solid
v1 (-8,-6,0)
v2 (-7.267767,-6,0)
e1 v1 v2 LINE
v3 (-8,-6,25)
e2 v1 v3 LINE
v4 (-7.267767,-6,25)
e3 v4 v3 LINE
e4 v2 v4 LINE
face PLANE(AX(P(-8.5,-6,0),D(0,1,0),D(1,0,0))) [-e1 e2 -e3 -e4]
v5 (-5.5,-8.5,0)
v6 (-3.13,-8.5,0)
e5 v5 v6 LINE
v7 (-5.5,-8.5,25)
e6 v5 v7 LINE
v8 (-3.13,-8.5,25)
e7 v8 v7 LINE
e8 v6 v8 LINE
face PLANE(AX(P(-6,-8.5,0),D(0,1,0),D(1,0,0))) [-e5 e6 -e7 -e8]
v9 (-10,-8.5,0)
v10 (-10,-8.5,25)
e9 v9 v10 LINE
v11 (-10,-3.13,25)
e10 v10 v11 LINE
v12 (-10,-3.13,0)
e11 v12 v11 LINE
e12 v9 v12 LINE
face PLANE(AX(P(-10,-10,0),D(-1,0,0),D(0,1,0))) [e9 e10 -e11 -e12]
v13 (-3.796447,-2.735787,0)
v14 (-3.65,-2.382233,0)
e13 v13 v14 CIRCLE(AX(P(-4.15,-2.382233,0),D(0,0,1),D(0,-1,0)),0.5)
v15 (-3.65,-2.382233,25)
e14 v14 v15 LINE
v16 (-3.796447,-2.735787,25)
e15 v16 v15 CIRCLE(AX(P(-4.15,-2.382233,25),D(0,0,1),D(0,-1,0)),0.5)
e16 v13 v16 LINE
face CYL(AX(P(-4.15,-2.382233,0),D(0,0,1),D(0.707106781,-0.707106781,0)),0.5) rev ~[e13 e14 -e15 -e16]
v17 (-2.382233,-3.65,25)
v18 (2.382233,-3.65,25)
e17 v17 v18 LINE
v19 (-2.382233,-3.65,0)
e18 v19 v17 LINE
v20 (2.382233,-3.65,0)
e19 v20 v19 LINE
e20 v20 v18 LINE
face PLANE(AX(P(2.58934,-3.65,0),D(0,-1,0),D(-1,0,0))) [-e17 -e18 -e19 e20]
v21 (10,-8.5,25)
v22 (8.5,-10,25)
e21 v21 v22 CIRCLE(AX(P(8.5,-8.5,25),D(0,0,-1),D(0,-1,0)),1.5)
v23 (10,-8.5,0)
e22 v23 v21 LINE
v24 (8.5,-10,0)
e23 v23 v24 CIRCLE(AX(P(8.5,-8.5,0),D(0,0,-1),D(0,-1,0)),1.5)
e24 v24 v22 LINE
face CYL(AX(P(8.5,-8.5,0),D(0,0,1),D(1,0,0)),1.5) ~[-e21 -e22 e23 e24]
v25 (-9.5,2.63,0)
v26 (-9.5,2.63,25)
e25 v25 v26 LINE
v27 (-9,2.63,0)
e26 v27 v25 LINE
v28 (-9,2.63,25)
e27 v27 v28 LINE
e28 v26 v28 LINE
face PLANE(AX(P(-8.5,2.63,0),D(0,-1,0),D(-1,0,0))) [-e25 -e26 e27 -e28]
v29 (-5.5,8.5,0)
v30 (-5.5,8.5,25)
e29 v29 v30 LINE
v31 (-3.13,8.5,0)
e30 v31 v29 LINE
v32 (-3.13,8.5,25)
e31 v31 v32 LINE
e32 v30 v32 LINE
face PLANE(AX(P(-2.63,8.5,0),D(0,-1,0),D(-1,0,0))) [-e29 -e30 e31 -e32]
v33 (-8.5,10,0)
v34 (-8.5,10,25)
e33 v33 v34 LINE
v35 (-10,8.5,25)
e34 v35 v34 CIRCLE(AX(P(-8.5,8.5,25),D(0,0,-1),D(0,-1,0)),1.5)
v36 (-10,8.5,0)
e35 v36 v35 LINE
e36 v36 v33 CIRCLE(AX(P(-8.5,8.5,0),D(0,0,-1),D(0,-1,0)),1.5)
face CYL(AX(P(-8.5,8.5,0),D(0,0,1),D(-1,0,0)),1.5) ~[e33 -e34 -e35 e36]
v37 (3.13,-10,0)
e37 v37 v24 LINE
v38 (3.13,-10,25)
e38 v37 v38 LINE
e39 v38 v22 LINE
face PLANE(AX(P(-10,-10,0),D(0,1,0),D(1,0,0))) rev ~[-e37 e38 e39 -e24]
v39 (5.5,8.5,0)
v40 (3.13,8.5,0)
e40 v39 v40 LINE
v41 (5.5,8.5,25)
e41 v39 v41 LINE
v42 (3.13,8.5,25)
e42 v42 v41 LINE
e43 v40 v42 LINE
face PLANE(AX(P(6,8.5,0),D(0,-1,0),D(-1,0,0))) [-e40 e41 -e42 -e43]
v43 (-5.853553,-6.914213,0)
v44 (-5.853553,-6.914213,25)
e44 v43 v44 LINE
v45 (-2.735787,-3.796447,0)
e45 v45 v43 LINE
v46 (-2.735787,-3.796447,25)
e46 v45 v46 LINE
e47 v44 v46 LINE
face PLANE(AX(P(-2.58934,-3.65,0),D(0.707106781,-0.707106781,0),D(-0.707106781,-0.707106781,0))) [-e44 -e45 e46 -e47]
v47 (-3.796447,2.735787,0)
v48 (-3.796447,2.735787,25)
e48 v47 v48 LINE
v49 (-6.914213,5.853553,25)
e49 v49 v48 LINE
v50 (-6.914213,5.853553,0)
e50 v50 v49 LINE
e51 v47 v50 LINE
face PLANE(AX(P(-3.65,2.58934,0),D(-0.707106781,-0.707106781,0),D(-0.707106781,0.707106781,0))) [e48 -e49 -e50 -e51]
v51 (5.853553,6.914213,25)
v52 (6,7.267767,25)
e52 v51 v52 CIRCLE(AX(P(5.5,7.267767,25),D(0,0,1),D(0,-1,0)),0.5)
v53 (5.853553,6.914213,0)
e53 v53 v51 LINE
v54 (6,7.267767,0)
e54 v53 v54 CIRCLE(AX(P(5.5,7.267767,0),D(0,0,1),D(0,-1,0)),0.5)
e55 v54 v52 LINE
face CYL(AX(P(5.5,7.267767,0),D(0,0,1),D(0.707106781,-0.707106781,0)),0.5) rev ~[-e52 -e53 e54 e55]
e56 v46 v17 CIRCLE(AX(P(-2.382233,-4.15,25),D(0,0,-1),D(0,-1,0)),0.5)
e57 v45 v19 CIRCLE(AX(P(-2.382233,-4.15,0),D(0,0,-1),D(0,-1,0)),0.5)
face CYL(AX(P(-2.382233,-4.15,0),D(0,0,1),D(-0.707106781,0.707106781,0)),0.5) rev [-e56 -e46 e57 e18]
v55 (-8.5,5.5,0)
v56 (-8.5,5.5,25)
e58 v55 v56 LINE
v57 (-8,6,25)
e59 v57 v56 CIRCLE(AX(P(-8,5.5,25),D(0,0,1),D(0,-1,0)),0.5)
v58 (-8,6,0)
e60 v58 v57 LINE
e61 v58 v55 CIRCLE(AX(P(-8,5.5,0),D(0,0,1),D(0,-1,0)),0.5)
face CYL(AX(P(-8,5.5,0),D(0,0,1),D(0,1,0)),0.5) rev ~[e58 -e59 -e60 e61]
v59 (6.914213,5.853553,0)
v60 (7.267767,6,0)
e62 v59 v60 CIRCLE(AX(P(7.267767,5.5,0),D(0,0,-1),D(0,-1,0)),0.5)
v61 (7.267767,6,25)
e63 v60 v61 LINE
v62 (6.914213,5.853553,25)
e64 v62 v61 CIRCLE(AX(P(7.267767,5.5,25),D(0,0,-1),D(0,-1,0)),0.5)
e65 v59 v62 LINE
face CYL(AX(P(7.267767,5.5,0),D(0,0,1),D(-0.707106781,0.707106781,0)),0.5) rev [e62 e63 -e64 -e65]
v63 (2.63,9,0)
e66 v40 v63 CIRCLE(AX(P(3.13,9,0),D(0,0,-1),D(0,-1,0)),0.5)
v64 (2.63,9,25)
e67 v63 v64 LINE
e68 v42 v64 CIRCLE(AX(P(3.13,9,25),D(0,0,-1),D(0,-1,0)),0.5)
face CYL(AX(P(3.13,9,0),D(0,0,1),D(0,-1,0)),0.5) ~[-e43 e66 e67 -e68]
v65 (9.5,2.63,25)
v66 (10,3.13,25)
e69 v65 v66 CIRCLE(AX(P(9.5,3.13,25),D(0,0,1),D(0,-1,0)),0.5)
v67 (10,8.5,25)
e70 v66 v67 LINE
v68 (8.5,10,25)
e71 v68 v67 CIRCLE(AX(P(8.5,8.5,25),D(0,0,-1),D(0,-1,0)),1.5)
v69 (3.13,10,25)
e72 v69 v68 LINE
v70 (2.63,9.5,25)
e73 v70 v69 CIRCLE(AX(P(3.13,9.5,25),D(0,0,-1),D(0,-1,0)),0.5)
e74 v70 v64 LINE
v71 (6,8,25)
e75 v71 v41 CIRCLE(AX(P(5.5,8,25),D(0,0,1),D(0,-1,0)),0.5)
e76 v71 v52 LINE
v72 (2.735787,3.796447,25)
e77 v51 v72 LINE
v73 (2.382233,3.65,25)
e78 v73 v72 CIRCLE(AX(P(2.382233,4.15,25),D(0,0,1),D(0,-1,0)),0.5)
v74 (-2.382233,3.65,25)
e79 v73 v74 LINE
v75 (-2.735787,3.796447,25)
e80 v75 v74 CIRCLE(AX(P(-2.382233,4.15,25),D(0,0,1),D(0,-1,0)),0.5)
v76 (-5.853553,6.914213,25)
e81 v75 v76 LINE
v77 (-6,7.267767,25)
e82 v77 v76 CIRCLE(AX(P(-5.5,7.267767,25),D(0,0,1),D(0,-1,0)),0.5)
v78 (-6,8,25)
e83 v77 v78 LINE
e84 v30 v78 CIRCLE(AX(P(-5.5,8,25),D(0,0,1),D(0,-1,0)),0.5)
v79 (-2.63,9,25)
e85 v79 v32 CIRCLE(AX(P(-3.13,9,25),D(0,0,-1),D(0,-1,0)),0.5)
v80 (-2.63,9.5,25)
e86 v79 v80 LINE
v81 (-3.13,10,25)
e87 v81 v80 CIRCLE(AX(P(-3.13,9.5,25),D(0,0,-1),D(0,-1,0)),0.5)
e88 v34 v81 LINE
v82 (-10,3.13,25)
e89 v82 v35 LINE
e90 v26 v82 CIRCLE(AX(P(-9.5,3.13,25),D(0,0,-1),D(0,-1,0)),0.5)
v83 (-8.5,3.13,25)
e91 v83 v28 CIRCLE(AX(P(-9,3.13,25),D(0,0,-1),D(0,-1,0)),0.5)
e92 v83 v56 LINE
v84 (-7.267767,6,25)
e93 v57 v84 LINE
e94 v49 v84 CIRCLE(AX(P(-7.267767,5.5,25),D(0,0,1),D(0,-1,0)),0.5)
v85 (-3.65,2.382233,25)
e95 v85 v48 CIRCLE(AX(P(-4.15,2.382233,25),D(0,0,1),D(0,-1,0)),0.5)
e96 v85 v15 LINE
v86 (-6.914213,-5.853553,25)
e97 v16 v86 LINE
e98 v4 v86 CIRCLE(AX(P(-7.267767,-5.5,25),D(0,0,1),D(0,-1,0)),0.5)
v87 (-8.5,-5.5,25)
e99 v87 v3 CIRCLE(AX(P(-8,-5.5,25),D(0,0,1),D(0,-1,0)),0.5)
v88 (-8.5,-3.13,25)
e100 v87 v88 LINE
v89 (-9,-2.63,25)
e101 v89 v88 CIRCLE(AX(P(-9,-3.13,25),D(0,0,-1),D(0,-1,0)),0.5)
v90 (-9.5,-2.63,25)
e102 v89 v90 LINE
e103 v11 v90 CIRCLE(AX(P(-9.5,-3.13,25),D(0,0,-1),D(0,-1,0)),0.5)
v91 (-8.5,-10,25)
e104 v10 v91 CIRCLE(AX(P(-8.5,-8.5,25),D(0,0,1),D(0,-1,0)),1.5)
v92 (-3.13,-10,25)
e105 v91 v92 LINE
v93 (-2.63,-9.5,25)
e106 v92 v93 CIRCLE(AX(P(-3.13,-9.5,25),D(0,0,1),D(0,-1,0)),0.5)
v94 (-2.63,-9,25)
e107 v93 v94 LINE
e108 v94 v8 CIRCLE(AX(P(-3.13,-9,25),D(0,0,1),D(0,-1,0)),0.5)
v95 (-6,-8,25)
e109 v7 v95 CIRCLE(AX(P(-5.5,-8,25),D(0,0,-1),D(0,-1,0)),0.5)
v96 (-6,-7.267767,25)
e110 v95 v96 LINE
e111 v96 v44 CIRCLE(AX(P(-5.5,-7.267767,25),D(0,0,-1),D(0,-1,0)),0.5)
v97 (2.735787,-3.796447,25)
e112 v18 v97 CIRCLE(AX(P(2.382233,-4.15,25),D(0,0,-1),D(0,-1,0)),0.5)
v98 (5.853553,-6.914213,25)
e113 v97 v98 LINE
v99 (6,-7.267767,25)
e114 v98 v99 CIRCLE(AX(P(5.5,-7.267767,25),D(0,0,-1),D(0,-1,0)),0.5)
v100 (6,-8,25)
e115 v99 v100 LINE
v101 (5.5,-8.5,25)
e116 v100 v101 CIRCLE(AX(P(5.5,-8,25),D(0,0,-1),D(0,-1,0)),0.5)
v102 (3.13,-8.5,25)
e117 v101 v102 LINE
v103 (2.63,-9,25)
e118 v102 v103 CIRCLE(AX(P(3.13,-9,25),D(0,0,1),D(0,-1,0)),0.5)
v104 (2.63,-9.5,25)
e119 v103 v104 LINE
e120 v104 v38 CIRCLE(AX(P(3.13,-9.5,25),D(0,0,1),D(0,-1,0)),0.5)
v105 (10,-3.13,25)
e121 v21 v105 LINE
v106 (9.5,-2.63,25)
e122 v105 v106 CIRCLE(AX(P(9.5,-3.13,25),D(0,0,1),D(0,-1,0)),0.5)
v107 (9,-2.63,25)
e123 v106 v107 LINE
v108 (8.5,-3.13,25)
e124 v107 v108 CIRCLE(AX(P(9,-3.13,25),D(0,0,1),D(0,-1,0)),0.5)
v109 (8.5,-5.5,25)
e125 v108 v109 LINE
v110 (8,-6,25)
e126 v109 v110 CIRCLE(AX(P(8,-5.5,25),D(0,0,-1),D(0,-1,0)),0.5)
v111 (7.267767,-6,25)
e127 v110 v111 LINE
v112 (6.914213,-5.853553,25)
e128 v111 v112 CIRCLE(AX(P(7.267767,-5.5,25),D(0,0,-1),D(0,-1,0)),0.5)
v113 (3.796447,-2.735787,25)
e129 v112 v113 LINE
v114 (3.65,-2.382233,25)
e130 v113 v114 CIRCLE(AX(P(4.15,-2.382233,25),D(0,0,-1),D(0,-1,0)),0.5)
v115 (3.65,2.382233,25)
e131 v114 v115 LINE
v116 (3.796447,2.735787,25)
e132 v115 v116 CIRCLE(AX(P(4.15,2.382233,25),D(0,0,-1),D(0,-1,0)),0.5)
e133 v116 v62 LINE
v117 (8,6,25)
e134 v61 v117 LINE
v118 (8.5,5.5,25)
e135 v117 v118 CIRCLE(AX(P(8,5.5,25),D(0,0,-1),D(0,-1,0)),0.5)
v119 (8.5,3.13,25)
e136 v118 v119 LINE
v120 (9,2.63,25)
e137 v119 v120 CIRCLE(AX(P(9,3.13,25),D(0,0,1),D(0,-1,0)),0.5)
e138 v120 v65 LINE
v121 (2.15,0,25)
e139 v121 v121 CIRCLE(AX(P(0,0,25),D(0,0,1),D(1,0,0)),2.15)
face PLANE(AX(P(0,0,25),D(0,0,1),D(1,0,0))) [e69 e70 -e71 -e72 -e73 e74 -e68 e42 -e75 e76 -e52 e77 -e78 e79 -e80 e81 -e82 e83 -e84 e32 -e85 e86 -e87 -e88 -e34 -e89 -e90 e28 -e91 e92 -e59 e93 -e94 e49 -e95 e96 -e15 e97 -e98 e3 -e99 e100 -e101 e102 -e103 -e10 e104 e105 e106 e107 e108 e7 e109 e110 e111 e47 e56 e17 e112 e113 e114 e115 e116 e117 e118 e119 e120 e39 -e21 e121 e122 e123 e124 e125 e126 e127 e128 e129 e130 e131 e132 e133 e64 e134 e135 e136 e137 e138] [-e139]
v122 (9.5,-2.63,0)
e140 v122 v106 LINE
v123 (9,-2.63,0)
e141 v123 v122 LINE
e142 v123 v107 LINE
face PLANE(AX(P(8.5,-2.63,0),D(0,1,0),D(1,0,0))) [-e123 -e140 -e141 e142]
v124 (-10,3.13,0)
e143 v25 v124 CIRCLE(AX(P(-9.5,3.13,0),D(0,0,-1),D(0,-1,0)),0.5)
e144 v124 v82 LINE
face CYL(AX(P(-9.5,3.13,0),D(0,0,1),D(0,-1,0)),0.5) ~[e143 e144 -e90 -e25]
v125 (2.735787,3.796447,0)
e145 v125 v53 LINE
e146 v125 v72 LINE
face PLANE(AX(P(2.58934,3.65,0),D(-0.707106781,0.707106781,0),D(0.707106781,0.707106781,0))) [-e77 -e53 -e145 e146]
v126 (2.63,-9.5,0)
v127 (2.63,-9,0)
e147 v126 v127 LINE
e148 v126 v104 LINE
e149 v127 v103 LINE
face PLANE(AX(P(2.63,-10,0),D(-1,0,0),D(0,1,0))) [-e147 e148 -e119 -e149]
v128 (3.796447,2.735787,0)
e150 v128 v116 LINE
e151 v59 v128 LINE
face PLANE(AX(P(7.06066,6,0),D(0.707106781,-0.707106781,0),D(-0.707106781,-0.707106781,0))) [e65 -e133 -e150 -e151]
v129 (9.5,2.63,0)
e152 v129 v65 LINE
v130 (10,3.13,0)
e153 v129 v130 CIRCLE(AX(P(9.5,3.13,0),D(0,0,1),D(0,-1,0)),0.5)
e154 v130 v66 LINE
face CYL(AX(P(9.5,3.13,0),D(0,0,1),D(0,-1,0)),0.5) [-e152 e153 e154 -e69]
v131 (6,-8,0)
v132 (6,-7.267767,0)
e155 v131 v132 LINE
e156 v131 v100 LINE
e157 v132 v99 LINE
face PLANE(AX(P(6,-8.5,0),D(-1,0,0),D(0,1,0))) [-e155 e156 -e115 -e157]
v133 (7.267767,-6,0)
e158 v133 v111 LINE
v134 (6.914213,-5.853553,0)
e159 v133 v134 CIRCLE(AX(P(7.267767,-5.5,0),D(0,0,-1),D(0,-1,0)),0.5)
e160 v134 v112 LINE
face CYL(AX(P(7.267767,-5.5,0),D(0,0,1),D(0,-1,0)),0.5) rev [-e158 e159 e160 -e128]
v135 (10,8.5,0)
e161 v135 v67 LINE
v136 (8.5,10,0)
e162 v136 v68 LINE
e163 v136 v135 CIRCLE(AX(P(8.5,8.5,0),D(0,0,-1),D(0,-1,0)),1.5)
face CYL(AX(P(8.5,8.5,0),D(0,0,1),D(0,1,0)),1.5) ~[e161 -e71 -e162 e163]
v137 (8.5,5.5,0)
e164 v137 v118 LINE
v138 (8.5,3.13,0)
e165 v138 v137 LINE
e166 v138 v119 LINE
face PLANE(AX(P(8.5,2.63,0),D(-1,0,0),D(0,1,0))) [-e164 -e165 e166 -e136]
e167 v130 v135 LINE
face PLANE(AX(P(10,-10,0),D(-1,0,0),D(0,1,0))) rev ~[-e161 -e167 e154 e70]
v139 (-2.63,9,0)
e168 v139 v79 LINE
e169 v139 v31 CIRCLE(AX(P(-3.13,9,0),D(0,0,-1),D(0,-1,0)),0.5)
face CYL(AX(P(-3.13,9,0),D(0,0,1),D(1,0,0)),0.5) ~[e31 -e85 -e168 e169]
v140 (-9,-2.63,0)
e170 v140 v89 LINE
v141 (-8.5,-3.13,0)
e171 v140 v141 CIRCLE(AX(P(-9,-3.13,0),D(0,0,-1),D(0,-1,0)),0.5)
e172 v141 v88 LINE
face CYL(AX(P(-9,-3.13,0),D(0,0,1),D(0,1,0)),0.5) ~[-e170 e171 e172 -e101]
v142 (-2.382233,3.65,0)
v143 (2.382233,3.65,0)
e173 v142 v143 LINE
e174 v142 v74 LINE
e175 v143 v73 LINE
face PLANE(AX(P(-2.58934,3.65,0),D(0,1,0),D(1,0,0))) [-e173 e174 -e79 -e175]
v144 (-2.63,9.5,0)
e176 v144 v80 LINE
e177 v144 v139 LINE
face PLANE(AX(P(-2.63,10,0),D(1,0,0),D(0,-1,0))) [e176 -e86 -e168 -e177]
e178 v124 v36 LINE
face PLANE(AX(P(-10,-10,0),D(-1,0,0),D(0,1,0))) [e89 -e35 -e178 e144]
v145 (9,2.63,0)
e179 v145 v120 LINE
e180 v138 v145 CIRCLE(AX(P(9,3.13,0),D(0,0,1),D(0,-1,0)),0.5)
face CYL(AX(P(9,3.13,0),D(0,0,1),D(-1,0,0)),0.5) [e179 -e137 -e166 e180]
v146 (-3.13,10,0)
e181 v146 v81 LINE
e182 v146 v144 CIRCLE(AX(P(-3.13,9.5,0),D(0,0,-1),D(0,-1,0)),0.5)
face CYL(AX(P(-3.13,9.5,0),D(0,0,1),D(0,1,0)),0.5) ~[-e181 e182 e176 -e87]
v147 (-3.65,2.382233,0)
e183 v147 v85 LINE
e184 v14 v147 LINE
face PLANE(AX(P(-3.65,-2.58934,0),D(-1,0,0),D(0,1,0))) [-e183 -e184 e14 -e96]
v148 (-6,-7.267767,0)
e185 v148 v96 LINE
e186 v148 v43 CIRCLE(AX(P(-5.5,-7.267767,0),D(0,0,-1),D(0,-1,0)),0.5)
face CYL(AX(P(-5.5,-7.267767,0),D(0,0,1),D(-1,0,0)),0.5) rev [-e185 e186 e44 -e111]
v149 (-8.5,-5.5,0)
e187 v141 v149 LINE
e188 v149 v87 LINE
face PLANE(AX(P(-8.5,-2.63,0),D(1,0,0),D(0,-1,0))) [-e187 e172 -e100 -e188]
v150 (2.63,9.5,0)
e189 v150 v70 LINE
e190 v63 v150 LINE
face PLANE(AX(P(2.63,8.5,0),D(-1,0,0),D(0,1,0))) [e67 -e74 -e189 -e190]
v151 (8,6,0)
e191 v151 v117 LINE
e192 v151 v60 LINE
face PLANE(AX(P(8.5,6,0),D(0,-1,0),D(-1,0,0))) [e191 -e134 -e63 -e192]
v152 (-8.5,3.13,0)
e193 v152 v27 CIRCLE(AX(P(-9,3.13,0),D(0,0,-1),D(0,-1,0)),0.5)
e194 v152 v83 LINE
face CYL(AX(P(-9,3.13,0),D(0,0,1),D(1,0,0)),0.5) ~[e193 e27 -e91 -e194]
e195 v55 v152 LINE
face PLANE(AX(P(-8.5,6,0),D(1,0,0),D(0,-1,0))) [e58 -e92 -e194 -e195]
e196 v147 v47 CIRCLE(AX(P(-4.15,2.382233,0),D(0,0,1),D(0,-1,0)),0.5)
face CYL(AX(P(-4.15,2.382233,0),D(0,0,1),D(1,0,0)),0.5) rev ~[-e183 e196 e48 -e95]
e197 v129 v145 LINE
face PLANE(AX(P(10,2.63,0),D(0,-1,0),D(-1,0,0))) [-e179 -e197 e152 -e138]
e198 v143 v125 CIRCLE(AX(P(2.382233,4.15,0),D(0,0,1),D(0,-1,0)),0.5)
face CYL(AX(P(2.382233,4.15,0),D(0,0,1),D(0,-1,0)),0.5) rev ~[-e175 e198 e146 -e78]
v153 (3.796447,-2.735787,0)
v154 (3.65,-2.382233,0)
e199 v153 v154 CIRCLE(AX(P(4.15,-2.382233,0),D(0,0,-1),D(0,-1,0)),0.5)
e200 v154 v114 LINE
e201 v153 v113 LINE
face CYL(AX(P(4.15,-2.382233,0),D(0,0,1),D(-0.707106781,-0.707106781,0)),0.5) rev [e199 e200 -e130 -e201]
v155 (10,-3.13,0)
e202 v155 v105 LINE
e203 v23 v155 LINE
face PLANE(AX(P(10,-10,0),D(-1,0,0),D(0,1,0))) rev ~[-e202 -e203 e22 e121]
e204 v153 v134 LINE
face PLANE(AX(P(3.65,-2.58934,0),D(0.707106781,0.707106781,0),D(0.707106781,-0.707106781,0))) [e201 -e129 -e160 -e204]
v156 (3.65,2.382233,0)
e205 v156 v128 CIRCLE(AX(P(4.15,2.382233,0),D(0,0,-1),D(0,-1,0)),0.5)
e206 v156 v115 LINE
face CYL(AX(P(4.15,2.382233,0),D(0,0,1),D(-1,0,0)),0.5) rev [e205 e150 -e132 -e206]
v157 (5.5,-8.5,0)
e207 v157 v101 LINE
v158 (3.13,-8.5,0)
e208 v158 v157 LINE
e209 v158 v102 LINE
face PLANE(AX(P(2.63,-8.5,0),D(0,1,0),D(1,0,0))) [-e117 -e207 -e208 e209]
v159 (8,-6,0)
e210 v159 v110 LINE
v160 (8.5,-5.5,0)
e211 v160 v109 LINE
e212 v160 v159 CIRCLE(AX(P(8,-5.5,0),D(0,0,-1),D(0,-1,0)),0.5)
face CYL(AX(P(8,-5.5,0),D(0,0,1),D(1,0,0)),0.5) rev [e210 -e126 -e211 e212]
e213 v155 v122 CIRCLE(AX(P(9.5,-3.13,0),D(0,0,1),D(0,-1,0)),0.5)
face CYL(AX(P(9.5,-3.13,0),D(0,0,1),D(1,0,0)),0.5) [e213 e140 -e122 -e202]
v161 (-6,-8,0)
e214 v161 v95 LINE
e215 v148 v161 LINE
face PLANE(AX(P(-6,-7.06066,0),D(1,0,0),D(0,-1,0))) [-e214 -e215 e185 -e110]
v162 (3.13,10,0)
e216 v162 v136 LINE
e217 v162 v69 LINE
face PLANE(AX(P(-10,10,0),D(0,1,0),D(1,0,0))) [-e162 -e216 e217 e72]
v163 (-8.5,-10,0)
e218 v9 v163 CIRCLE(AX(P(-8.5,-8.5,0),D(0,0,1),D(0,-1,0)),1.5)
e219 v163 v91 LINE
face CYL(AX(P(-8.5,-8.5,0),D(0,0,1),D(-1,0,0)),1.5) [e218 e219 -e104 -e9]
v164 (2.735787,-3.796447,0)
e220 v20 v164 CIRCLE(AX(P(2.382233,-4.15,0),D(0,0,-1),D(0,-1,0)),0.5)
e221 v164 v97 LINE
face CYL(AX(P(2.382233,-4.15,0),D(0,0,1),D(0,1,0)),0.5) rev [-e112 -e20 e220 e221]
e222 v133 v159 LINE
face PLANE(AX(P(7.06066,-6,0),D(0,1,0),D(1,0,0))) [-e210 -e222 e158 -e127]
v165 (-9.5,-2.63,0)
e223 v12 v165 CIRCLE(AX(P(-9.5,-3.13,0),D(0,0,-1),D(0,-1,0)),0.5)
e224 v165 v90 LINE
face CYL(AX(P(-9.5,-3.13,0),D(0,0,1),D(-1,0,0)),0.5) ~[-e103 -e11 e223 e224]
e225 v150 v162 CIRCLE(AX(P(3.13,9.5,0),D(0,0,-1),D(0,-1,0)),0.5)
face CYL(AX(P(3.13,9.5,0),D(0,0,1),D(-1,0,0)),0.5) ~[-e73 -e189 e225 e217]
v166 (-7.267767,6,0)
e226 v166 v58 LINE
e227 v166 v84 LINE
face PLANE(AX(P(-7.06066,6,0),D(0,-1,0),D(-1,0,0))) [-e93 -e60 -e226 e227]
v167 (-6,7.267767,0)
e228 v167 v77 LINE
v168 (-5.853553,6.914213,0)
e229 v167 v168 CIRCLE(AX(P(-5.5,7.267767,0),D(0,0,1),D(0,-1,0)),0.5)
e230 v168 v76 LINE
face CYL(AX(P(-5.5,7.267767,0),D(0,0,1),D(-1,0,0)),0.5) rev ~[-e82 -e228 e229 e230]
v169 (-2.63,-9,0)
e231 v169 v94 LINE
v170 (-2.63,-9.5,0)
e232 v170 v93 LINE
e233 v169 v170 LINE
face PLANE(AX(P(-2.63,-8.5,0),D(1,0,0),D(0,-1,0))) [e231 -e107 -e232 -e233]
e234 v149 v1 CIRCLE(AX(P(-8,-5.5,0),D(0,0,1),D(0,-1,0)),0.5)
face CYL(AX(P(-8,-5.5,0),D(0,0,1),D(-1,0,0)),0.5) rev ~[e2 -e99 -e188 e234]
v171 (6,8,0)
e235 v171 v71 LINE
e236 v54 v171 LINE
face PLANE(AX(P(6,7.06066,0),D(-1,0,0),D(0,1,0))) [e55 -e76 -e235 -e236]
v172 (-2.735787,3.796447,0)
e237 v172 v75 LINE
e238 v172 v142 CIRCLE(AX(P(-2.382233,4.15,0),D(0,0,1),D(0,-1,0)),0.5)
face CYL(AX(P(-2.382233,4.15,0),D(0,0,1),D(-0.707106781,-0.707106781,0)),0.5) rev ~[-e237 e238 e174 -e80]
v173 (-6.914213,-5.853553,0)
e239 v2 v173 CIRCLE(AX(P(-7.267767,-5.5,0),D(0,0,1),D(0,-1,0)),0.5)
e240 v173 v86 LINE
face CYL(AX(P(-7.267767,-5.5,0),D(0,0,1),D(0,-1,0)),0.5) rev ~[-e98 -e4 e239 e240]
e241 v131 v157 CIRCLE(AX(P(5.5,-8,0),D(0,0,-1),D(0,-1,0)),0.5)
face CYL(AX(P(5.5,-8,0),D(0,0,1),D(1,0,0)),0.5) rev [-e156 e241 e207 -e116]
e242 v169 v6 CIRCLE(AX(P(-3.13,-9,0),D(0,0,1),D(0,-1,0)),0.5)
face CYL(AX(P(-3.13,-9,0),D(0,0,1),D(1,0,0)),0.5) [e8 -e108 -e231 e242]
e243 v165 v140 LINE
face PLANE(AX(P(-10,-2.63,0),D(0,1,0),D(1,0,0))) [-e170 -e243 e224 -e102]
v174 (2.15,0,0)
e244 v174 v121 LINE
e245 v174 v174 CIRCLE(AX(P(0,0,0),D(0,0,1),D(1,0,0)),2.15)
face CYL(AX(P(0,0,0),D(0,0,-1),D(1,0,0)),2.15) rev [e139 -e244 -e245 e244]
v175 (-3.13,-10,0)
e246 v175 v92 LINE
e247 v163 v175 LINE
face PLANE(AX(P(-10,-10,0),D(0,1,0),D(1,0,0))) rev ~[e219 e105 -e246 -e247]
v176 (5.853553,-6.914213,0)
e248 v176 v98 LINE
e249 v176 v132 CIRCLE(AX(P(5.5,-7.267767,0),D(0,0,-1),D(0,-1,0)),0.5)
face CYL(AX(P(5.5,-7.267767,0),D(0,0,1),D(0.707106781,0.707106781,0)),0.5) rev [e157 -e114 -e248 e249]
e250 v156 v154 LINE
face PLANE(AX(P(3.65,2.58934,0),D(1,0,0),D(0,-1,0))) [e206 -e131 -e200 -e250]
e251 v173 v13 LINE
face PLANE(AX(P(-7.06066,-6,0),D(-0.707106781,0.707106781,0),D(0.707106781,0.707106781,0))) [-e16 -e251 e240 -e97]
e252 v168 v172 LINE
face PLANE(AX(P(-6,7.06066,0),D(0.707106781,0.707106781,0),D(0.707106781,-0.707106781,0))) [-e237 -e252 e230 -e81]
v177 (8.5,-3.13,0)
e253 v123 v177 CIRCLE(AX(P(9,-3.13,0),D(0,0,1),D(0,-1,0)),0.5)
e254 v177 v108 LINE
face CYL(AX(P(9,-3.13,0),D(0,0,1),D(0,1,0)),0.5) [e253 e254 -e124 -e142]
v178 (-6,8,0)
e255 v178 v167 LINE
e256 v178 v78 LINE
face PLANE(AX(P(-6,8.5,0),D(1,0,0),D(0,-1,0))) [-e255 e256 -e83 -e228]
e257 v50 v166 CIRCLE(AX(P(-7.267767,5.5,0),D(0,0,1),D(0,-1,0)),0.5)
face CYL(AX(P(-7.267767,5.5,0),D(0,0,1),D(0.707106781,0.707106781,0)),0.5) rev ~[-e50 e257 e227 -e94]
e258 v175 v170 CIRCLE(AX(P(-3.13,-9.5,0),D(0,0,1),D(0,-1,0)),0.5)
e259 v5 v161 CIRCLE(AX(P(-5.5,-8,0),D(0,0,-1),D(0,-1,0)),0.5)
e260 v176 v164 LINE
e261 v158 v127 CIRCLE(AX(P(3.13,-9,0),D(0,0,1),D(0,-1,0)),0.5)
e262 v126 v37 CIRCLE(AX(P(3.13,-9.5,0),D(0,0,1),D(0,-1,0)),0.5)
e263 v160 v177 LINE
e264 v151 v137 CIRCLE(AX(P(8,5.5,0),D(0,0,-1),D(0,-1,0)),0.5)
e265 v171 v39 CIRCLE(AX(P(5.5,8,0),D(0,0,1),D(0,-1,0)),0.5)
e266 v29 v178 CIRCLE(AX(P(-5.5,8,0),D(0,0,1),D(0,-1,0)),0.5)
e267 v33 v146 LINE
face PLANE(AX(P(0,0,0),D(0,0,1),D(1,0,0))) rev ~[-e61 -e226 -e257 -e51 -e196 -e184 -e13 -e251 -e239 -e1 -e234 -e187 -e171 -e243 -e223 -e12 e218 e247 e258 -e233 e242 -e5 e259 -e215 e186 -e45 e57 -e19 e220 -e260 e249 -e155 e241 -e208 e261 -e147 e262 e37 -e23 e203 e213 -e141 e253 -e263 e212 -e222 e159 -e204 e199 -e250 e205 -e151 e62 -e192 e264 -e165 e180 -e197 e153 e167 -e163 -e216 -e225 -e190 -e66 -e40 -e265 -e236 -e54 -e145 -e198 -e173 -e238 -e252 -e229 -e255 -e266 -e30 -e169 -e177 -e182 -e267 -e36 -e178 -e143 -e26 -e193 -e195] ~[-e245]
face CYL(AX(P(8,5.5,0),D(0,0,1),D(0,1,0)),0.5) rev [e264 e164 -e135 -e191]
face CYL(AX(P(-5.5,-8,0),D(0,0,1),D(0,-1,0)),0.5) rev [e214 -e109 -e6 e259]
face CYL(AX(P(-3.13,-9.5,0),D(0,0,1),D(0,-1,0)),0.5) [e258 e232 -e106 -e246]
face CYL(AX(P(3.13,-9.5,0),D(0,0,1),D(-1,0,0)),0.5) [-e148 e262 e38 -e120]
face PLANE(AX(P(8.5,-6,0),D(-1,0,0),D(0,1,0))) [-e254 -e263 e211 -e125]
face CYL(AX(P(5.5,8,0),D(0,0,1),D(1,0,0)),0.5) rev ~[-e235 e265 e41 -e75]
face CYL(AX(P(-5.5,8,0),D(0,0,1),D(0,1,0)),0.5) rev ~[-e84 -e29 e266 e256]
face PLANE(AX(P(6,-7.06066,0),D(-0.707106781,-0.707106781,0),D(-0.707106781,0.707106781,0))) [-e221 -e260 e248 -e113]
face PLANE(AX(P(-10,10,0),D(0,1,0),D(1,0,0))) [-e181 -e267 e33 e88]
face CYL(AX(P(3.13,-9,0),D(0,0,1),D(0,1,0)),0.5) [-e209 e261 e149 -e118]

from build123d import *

# Parameters (mm, degrees)
F0_W     = 20
F0_H     = 20
F0_R     = 2.15
F2_DEPTH = 25
F3_DEPTH = 25.001
F4_R     = 1.5
F5_R     = 0.5


with BuildPart() as f2:
    # F0 (on Top) → F2 (new body)
    with BuildSketch(Plane.XY):
        Rectangle(F0_W, F0_H)
        Circle(F0_R, mode=Mode.SUBTRACT)
    extrude(amount=F2_DEPTH)

    # F1 (on face) → F3 (cut, through all)
    with BuildSketch(Plane.XY):
        Polygon((-8.5, 2.63), (-10, 2.63), (-10, -2.63), (-8.5, -2.63), (-8.5, -6), (-7.06066, -6), (-3.65, -2.58934), (-3.65, 2.58934), (-7.06066, 6), (-8.5, 6), align=None)
        Polygon((-2.63, -8.5), (-2.63, -10), (2.63, -10), (2.63, -8.5), (6, -8.5), (6, -7.06066), (2.58934, -3.65), (-2.58934, -3.65), (-6, -7.06066), (-6, -8.5), align=None)
        Polygon((10, -2.63), (10, 2.63), (8.5, 2.63), (8.5, 6), (7.06066, 6), (3.65, 2.58934), (3.65, -2.58934), (7.06066, -6), (8.5, -6), (8.5, -2.63), align=None)
        Polygon((2.63, 10), (-2.63, 10), (-2.63, 8.5), (-6, 8.5), (-6, 7.06066), (-2.58934, 3.65), (2.58934, 3.65), (6, 7.06066), (6, 8.5), (2.63, 8.5), align=None)
    extrude(amount=F3_DEPTH, mode=Mode.SUBTRACT)

    # F4
    f4_edges = [f2.edges().sort_by_distance(p)[0] for p in [
        (10, -10, 12.5),
        (-10, -10, 12.5),
        (10, 10, 12.5),
        (-10, 10, 12.5),
    ]]
    fillet(f4_edges, radius=F4_R)

    # F5
    f5_edges = [f2.edges().sort_by_distance(p)[0] for p in [
        (-2.63, -10, 12.5),
        (-10, 2.63, 12.5),
        (-2.63, 10, 12.5),
        (2.63, -10, 12.5),
        (10, 2.63, 12.5),
        (10, -2.63, 12.5),
        (-10, -2.63, 12.5),
        (2.63, 10, 12.5),
        (-6, -8.5, 12.5),
        (-2.63, -8.5, 12.5),
        (2.63, -8.5, 12.5),
        (-8.5, 2.63, 12.5),
        (-8.5, -2.63, 12.5),
        (8.5, -2.63, 12.5),
        (8.5, 2.63, 12.5),
        (2.63, 8.5, 12.5),
        (6, 8.5, 12.5),
        (8.5, 6, 12.5),
        (7.06066, 6, 12.5),
        (6, 7.06066, 12.5),
        (-2.58934, -3.65, 12.5),
        (2.58934, -3.65, 12.5),
        (3.65, 2.58934, 12.5),
        (3.65, -2.58934, 12.5),
        (-3.65, -2.58934, 12.5),
        (-3.65, 2.58934, 12.5),
        (2.58934, 3.65, 12.5),
        (-2.58934, 3.65, 12.5),
        (-6, 8.5, 12.5),
        (-6, 7.06066, 12.5),
        (-2.63, 8.5, 12.5),
        (8.5, -6, 12.5),
        (7.06066, -6, 12.5),
        (-8.5, -6, 12.5),
        (-7.06066, -6, 12.5),
        (-6, -7.06066, 12.5),
        (6, -7.06066, 12.5),
        (6, -8.5, 12.5),
        (-8.5, 6, 12.5),
        (-7.06066, 6, 12.5),
    ]]
    fillet(f5_edges, radius=F5_R)


solid = f2.part
